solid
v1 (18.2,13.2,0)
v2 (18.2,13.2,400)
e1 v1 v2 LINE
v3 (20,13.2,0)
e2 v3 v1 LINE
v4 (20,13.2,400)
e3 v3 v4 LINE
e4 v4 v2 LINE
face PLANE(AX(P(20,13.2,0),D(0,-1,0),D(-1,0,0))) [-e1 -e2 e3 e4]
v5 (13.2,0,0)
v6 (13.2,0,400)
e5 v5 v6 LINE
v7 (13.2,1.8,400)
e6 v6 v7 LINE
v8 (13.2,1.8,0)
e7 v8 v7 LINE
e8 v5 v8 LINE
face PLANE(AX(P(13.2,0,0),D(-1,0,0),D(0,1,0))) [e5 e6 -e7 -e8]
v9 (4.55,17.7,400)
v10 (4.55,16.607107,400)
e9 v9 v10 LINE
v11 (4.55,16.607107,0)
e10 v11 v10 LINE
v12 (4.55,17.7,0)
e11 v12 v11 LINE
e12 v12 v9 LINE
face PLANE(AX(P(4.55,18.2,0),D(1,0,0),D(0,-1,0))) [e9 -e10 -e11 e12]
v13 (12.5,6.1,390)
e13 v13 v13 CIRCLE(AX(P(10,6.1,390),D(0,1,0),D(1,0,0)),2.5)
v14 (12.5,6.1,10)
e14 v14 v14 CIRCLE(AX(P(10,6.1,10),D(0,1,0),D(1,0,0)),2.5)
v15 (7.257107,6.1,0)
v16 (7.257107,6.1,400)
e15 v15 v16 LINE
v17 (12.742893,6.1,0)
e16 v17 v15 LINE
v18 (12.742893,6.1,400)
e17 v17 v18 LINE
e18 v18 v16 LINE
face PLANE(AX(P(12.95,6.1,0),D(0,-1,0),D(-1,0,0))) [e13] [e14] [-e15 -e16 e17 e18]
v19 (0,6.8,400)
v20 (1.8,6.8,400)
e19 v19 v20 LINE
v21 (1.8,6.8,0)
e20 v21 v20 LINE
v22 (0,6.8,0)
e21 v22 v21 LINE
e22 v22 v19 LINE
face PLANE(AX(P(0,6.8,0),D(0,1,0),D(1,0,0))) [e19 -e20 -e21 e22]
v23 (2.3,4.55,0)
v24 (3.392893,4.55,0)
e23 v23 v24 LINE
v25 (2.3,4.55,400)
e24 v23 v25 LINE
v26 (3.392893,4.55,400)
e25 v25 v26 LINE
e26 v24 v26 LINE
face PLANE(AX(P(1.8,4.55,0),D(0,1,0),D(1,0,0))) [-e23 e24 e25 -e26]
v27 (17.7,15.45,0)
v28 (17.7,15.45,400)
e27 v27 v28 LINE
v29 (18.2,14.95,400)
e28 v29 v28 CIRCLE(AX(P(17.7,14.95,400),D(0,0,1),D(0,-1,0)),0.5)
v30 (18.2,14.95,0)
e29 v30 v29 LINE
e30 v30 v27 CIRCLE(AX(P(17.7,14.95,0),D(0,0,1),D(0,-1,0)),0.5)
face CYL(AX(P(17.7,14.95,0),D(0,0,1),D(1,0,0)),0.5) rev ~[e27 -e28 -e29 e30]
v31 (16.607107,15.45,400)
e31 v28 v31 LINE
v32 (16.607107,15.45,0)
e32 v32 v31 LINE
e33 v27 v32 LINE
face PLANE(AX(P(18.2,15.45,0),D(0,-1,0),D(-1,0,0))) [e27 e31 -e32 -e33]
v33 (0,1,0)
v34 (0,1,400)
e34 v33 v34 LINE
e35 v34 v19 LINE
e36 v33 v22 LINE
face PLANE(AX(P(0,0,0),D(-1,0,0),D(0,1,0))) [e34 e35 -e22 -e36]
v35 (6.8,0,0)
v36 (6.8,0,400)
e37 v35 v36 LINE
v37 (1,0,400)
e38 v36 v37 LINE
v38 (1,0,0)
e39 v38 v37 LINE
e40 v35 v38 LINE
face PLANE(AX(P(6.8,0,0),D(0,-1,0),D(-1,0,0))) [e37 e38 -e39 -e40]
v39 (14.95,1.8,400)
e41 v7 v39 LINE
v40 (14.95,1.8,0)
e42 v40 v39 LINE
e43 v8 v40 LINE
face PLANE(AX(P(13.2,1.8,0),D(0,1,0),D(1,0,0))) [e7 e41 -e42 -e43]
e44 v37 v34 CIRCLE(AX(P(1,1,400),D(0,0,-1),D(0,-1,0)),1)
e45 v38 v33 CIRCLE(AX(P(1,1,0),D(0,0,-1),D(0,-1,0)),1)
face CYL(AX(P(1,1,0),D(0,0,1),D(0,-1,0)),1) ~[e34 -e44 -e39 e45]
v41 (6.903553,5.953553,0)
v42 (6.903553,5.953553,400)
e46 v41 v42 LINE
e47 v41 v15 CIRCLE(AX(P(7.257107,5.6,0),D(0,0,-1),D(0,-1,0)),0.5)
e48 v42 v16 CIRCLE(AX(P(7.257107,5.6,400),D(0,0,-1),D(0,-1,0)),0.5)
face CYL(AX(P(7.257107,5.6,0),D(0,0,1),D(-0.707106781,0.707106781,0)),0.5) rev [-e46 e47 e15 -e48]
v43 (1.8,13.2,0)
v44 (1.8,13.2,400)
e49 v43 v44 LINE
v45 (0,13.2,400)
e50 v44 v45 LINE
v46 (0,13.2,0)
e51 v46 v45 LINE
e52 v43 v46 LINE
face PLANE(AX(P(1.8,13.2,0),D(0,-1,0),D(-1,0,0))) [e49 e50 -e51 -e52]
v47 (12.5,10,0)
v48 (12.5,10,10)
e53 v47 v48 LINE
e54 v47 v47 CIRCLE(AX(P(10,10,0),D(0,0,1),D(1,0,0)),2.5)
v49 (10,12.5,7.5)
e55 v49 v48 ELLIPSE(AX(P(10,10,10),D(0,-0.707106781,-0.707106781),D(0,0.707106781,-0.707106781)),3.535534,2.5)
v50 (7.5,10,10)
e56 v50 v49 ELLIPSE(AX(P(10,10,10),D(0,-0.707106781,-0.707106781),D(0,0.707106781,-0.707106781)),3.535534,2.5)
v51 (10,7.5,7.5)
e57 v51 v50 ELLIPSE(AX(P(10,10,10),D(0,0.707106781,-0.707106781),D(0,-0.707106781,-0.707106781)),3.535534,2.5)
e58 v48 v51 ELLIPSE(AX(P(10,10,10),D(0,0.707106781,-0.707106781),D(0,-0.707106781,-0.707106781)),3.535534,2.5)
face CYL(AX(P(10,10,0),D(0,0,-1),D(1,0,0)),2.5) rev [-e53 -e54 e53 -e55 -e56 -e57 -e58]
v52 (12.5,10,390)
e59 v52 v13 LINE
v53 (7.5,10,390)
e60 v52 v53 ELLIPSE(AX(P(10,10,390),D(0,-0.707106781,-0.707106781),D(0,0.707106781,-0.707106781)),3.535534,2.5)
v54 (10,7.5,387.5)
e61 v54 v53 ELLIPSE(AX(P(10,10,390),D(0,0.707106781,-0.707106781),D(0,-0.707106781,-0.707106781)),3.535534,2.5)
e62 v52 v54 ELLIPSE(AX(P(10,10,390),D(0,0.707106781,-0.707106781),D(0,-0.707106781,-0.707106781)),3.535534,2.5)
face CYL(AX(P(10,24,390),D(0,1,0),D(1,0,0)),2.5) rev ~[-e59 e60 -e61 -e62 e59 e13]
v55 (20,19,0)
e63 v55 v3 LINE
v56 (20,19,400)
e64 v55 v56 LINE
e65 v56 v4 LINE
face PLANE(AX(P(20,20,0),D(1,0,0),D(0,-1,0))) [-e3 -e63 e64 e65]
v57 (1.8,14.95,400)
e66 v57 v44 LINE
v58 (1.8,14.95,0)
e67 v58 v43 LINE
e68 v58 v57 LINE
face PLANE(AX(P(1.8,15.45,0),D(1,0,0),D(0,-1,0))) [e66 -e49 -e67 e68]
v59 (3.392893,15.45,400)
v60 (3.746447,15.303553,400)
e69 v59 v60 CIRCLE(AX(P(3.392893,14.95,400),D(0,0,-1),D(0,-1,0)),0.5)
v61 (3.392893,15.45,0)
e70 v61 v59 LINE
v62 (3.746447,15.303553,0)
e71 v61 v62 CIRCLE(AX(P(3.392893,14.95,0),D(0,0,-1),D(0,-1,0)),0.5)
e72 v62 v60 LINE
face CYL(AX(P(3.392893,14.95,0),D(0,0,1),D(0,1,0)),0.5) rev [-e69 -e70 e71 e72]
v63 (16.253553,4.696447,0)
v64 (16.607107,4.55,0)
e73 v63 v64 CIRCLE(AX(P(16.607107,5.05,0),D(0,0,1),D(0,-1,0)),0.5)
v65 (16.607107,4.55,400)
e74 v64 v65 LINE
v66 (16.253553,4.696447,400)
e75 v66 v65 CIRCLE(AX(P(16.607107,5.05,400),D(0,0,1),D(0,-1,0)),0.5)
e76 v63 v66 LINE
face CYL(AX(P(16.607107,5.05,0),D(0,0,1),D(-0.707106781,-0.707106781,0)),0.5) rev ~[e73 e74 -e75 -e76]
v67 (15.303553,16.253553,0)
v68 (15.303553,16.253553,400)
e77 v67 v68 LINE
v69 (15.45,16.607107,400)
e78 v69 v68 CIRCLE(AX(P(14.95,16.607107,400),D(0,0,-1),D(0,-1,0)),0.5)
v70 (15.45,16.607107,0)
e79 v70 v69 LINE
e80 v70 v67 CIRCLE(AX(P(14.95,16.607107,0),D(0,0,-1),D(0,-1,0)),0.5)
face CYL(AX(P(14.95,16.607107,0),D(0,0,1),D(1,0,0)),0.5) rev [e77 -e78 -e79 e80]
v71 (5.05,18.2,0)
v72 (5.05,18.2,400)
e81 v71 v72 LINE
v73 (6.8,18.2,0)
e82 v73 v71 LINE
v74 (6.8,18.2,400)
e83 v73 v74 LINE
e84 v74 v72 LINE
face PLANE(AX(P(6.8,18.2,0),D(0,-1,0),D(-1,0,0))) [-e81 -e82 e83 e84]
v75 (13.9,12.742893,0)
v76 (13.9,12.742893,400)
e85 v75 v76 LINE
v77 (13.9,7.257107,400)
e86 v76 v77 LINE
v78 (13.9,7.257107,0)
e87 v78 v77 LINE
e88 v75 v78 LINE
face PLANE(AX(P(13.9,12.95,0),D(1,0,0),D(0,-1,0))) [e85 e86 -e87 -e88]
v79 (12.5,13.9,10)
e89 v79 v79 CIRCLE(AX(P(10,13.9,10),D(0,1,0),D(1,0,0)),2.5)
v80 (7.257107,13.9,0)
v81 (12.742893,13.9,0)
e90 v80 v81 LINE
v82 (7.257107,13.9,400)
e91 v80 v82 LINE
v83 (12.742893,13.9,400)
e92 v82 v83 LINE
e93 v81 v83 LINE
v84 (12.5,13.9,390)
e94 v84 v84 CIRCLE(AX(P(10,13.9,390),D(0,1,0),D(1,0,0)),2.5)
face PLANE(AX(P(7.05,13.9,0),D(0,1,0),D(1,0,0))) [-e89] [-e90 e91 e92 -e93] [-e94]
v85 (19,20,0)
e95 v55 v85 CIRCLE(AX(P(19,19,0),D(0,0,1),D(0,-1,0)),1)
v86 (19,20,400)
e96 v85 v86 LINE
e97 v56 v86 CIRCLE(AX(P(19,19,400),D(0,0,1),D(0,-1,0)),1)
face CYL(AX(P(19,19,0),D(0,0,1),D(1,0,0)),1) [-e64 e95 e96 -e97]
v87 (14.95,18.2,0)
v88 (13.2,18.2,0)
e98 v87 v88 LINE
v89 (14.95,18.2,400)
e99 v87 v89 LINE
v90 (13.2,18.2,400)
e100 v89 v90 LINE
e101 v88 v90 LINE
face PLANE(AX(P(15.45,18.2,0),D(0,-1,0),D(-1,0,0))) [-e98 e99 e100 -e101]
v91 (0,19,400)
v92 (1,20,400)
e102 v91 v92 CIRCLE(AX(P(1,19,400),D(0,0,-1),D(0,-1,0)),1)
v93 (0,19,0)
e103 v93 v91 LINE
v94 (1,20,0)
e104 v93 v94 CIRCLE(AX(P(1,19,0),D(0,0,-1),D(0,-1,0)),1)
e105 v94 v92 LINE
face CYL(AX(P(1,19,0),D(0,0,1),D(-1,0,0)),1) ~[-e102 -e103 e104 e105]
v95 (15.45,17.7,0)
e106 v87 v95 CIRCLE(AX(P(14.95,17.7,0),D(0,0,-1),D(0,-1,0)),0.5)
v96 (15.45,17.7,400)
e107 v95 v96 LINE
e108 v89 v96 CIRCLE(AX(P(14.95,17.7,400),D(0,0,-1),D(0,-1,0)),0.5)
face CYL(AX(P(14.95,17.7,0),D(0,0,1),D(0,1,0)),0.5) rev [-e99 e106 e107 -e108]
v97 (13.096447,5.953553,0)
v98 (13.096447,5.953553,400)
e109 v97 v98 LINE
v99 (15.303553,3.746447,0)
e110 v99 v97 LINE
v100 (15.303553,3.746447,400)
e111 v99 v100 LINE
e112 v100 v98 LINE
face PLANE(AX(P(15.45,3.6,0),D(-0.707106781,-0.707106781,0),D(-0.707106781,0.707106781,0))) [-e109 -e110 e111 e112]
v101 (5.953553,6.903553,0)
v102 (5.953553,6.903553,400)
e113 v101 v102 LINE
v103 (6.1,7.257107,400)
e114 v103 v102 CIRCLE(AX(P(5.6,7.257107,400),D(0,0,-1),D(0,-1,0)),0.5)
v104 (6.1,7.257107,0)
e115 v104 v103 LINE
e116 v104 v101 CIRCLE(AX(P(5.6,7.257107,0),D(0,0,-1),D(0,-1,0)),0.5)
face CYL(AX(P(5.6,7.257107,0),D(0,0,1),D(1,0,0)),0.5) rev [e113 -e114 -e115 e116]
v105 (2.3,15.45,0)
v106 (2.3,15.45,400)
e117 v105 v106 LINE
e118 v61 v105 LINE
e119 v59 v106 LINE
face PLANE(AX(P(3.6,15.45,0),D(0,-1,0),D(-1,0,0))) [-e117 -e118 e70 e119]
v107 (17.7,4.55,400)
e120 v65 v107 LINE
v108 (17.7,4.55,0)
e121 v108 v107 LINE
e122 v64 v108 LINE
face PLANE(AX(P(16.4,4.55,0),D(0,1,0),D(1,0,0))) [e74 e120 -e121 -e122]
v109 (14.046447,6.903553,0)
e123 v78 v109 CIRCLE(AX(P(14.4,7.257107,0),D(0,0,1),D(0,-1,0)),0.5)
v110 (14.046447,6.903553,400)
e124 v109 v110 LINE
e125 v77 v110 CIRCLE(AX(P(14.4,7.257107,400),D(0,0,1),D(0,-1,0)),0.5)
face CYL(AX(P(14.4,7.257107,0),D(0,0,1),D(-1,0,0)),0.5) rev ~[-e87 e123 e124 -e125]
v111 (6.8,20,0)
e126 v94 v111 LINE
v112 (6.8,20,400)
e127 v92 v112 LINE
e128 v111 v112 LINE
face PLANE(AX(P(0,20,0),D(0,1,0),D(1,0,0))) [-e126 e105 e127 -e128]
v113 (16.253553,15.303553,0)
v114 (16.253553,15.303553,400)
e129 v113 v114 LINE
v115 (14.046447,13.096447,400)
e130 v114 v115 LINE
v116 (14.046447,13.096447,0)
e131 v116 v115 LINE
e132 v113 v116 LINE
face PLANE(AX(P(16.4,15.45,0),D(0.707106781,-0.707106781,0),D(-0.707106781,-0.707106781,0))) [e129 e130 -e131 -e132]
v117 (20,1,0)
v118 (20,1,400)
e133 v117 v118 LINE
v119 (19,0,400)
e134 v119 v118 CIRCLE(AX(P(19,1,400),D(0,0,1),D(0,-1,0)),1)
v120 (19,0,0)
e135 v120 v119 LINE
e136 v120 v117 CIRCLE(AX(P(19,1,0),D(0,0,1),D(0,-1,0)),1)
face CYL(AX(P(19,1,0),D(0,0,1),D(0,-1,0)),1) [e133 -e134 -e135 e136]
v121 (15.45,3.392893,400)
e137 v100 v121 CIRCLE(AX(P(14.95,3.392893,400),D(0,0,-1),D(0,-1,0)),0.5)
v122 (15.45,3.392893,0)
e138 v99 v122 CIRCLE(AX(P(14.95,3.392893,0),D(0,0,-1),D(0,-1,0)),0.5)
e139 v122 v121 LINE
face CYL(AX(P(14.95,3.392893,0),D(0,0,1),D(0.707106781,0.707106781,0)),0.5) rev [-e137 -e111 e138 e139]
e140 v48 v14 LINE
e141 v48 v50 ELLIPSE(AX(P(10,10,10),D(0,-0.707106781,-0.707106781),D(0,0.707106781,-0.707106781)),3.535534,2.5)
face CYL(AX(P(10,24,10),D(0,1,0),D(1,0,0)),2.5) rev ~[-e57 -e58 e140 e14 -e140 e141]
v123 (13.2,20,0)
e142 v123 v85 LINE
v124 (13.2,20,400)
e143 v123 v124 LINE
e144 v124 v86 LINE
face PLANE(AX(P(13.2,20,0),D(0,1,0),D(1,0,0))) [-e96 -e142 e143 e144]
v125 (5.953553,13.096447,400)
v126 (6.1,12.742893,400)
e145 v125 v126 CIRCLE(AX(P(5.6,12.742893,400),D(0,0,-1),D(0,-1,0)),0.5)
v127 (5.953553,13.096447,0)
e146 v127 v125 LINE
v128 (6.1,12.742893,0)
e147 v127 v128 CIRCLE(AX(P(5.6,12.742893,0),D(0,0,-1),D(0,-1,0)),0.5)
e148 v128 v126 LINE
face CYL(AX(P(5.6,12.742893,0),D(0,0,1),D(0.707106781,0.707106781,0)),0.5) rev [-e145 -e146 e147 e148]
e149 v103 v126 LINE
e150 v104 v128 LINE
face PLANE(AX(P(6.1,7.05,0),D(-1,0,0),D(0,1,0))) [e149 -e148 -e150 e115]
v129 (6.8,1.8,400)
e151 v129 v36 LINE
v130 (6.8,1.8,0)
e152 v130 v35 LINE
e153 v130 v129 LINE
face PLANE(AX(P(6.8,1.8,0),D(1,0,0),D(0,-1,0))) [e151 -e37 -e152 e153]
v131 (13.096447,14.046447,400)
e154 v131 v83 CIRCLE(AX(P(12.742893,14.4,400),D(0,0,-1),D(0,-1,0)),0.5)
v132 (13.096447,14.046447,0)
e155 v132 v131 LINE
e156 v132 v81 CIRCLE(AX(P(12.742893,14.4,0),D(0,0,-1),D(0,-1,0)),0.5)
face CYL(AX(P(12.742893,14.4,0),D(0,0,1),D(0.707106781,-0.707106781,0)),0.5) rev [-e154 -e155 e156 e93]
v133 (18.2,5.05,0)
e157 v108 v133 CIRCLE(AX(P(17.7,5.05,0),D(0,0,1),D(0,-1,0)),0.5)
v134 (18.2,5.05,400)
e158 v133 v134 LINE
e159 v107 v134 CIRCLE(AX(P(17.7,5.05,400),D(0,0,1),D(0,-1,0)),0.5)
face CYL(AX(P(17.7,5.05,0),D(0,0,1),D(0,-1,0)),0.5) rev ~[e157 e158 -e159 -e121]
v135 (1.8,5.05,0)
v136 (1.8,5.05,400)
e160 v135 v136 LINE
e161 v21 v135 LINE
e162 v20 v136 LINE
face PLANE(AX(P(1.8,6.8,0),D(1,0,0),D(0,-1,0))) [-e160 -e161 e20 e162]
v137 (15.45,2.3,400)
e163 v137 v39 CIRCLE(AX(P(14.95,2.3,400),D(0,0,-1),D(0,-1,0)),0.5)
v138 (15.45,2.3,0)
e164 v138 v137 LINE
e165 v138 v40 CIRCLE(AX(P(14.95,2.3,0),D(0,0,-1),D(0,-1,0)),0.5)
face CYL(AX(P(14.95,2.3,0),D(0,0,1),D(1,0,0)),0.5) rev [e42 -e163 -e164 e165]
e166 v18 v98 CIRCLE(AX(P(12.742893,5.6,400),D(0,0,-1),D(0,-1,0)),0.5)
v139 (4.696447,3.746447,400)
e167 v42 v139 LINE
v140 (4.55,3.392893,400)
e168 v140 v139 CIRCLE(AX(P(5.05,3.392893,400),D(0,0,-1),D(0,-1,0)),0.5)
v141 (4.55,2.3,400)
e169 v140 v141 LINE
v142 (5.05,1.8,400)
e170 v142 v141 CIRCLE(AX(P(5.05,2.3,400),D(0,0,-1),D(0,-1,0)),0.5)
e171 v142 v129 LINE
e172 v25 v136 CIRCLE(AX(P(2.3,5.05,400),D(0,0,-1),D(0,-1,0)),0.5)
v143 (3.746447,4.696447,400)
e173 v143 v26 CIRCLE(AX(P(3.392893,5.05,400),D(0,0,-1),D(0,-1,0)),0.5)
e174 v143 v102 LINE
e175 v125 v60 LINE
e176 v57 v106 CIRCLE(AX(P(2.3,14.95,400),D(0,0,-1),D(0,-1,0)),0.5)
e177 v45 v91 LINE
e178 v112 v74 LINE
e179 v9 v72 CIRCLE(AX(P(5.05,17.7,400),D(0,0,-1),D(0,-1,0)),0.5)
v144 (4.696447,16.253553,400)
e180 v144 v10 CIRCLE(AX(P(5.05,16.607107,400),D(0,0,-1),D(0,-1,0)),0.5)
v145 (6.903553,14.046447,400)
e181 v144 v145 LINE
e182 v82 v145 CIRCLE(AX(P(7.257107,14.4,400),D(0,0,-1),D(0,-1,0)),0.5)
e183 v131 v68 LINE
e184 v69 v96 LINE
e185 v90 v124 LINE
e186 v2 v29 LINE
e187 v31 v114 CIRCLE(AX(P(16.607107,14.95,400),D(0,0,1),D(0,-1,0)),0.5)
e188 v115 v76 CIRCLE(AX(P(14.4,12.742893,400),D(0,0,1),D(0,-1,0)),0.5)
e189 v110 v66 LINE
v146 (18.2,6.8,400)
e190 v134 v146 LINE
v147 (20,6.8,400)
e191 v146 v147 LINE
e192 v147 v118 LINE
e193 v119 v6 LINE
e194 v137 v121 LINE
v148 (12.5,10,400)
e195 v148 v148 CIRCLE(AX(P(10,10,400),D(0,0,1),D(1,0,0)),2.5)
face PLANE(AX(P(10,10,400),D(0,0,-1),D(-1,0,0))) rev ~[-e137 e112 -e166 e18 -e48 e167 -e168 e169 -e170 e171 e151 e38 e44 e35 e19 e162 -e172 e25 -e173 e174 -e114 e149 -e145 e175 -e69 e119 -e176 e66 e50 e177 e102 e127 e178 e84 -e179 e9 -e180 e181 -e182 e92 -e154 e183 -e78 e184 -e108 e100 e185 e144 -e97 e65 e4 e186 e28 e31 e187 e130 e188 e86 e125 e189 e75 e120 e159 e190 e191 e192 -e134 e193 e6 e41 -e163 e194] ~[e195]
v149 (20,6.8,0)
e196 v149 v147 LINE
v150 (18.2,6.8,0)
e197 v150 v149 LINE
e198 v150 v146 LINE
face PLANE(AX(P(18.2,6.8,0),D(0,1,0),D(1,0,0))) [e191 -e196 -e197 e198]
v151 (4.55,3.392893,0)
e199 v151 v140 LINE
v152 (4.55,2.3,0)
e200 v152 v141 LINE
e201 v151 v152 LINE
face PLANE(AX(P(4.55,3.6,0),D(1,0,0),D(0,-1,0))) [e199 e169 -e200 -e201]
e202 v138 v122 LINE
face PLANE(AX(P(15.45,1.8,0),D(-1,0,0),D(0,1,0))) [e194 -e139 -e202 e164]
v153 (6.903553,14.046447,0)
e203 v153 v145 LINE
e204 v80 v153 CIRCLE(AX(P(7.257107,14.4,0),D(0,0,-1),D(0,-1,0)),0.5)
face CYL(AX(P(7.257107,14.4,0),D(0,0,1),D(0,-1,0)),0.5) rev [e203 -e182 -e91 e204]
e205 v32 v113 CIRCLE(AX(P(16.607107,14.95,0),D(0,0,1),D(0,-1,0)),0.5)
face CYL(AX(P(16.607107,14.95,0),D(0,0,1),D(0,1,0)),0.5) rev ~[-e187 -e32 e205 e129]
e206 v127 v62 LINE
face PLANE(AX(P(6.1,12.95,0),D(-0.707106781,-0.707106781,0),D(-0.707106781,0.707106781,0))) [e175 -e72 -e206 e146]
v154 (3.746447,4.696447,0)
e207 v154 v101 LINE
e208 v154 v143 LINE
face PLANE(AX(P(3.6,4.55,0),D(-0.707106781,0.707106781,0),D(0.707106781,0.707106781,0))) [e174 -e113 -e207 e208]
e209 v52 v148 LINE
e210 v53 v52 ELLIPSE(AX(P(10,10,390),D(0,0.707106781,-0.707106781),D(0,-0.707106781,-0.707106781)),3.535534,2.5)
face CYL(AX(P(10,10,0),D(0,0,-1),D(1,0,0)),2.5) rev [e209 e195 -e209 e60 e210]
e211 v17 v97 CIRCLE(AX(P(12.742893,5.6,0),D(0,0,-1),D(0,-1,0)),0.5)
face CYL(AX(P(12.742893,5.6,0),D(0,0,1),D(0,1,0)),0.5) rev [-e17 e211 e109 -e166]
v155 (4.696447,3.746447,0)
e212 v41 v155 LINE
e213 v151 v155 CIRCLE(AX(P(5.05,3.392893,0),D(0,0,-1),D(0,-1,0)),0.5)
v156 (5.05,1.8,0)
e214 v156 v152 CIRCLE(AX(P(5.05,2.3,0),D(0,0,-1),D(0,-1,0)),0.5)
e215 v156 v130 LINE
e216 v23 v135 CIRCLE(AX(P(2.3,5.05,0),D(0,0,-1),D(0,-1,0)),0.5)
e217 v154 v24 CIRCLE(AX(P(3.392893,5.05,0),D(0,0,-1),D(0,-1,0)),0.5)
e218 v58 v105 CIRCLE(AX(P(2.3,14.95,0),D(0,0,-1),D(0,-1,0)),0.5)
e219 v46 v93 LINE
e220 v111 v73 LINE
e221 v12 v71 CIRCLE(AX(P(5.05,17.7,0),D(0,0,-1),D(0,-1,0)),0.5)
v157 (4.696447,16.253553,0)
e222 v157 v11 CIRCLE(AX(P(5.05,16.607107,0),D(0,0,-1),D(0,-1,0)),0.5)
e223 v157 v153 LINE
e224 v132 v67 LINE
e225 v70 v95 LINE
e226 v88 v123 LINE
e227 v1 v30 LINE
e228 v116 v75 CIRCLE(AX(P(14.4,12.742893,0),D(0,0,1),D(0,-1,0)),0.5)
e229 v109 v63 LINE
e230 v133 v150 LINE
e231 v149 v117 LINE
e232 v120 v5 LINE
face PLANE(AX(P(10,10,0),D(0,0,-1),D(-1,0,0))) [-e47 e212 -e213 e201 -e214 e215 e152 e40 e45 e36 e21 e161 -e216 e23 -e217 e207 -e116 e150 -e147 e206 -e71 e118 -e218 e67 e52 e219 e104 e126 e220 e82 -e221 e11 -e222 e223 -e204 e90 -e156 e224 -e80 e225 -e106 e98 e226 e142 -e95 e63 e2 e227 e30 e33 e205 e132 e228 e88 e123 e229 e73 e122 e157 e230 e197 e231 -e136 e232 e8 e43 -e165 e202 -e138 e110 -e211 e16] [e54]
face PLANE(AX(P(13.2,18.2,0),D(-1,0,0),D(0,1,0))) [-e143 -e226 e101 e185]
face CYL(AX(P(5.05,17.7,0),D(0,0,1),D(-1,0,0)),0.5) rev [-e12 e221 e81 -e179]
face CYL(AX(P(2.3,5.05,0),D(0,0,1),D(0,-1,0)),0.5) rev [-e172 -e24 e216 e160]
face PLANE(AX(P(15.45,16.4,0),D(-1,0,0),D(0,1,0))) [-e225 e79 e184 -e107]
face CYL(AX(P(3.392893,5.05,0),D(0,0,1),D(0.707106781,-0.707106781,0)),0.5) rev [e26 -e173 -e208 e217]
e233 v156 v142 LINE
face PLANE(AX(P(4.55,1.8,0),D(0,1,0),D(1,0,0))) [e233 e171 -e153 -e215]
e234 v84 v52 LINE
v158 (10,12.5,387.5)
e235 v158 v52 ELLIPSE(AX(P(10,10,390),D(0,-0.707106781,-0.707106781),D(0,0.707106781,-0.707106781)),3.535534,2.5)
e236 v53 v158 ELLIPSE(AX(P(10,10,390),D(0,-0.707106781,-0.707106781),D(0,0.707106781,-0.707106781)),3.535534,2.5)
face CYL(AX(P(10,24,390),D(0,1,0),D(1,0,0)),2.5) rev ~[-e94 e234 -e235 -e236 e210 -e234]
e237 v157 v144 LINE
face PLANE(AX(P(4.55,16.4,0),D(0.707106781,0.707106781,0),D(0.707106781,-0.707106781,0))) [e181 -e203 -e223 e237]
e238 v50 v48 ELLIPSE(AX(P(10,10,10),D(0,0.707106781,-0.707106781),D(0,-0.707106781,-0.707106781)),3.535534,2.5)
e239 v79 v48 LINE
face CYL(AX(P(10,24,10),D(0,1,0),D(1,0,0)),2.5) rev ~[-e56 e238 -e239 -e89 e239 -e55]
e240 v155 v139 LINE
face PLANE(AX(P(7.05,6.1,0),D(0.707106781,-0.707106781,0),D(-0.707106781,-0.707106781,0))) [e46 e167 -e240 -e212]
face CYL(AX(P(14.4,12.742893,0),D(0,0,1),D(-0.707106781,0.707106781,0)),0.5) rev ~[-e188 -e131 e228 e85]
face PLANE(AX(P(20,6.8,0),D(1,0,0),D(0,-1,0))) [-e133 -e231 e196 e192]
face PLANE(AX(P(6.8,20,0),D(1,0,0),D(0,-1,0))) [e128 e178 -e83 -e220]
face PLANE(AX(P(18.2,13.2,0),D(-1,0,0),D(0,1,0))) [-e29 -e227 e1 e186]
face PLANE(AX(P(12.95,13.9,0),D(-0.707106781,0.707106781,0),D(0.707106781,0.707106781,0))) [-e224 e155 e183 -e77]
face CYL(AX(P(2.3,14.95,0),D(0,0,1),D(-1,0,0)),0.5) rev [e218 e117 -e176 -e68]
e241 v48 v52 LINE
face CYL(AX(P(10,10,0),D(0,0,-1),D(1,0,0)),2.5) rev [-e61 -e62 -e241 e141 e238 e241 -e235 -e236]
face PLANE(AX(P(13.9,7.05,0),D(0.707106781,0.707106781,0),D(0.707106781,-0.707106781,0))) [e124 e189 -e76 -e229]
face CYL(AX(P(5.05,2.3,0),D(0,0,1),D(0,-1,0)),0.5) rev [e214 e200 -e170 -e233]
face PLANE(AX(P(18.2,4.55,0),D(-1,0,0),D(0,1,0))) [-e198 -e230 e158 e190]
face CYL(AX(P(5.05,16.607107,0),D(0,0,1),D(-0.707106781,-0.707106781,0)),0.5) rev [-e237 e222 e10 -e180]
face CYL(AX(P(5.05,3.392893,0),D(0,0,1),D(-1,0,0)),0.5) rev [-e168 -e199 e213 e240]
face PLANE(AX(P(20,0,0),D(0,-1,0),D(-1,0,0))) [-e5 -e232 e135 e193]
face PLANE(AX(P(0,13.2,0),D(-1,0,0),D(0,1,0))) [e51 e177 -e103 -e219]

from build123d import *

# Parameters (mm, degrees)
SKETCH1_R           = 2.5
BOSS_EXTRUDE1_DEPTH = 400
FILLET1_R           = 1
FILLET2_R           = 0.5
FILLET3_R           = 0.5
FILLET4_R           = 0.5
FILLET5_R           = 0.5
CUT_EXTRUDE1_REACH  = 403.218
SKETCH2_R           = 2.5


with BuildPart() as part:
    # Sketch1 → Boss-Extrude1 (new body)
    with BuildSketch(Plane.XY):
        Polygon((13.2, 0), (13.2, 1.8), (15.45, 1.8), (15.45, 3.6), (12.95, 6.1), (7.05, 6.1), (4.55, 3.6), (4.55, 1.8), (6.8, 1.8), (6.8, 0), (0, 0), (0, 6.8), (1.8, 6.8), (1.8, 4.55), (3.6, 4.55), (6.1, 7.05), (6.1, 12.95), (3.6, 15.45), (1.8, 15.45), (1.8, 13.2), (0, 13.2), (0, 20), (6.8, 20), (6.8, 18.2), (4.55, 18.2), (4.55, 16.4), (7.05, 13.9), (12.95, 13.9), (15.45, 16.4), (15.45, 18.2), (13.2, 18.2), (13.2, 20), (20, 20), (20, 13.2), (18.2, 13.2), (18.2, 15.45), (16.4, 15.45), (13.9, 12.95), (13.9, 7.05), (16.4, 4.55), (18.2, 4.55), (18.2, 6.8), (20, 6.8), (20, 0), align=None)
        with Locations((10, 10)):
            Circle(SKETCH1_R, mode=Mode.SUBTRACT)
    extrude(amount=BOSS_EXTRUDE1_DEPTH)

    # Fillet1
    fillet1_edges = [part.edges().sort_by_distance(p)[0] for p in [
        (0, 0, 200),
        (0, 20, 200),
        (20, 20, 200),
        (20, 0, 200),
    ]]
    fillet(fillet1_edges, radius=FILLET1_R)

    # Fillet2
    fillet2_edges = [part.edges().sort_by_distance(p)[0] for p in [
        (4.55, 18.2, 200),
        (4.55, 16.4, 200),
        (7.05, 13.9, 200),
        (12.95, 13.9, 200),
        (15.45, 16.4, 200),
        (15.45, 18.2, 200),
    ]]
    fillet(fillet2_edges, radius=FILLET2_R)

    # Fillet3
    fillet3_edges = [part.edges().sort_by_distance(p)[0] for p in [
        (18.2, 15.45, 200),
        (16.4, 15.45, 200),
        (13.9, 12.95, 200),
        (13.9, 7.05, 200),
        (16.4, 4.55, 200),
        (18.2, 4.55, 200),
    ]]
    fillet(fillet3_edges, radius=FILLET3_R)

    # Fillet4
    fillet4_edges = [part.edges().sort_by_distance(p)[0] for p in [
        (1.8, 4.55, 200),
        (3.6, 4.55, 200),
        (6.1, 7.05, 200),
        (6.1, 12.95, 200),
        (3.6, 15.45, 200),
        (1.8, 15.45, 200),
    ]]
    fillet(fillet4_edges, radius=FILLET4_R)

    # Fillet5
    fillet5_edges = [part.edges().sort_by_distance(p)[0] for p in [
        (15.45, 1.8, 200),
        (15.45, 3.6, 200),
        (12.95, 6.1, 200),
        (7.05, 6.1, 200),
        (4.55, 3.6, 200),
        (4.55, 1.8, 200),
    ]]
    fillet(fillet5_edges, radius=FILLET5_R)

    # Cut-Extrude1: up to this face of the body (flat: up to its plane)
    cut_extrude1_end = Plane(part.part.faces().sort_by_distance((10, 6.1, 200))[0])
    # Sketch2 → Cut-Extrude1 (cut, up to the picked face)
    with BuildSketch(Plane(origin=(0, 24, 0), x_dir=(1, 0, 0), z_dir=(0, 1, 0)), mode=Mode.PRIVATE) as cut_extrude1_sk1:
        with Locations((10, -10)):
            Circle(SKETCH2_R)
    cut_extrude1_tool1 = split(extrude(cut_extrude1_sk1.sketch, amount=-CUT_EXTRUDE1_REACH, mode=Mode.PRIVATE), bisect_by=cut_extrude1_end, keep=Keep.BOTH, mode=Mode.PRIVATE)
    # Sketch2 → Cut-Extrude1 (cut, up to the picked face)
    with BuildSketch(Plane(origin=(0, 24, 0), x_dir=(1, 0, 0), z_dir=(0, 1, 0)), mode=Mode.PRIVATE) as cut_extrude1_sk2:
        with Locations((10, -390)):
            Circle(SKETCH2_R)
    cut_extrude1_tool2 = split(extrude(cut_extrude1_sk2.sketch, amount=-CUT_EXTRUDE1_REACH, mode=Mode.PRIVATE), bisect_by=cut_extrude1_end, keep=Keep.BOTH, mode=Mode.PRIVATE)
    add(cut_extrude1_tool1.solids().sort_by(Axis((10, 24, 10), (0, -1, 0)))[0], mode=Mode.SUBTRACT)
    add(cut_extrude1_tool2.solids().sort_by(Axis((10, 24, 390), (0, -1, 0)))[0], mode=Mode.SUBTRACT)


solid = part.part
